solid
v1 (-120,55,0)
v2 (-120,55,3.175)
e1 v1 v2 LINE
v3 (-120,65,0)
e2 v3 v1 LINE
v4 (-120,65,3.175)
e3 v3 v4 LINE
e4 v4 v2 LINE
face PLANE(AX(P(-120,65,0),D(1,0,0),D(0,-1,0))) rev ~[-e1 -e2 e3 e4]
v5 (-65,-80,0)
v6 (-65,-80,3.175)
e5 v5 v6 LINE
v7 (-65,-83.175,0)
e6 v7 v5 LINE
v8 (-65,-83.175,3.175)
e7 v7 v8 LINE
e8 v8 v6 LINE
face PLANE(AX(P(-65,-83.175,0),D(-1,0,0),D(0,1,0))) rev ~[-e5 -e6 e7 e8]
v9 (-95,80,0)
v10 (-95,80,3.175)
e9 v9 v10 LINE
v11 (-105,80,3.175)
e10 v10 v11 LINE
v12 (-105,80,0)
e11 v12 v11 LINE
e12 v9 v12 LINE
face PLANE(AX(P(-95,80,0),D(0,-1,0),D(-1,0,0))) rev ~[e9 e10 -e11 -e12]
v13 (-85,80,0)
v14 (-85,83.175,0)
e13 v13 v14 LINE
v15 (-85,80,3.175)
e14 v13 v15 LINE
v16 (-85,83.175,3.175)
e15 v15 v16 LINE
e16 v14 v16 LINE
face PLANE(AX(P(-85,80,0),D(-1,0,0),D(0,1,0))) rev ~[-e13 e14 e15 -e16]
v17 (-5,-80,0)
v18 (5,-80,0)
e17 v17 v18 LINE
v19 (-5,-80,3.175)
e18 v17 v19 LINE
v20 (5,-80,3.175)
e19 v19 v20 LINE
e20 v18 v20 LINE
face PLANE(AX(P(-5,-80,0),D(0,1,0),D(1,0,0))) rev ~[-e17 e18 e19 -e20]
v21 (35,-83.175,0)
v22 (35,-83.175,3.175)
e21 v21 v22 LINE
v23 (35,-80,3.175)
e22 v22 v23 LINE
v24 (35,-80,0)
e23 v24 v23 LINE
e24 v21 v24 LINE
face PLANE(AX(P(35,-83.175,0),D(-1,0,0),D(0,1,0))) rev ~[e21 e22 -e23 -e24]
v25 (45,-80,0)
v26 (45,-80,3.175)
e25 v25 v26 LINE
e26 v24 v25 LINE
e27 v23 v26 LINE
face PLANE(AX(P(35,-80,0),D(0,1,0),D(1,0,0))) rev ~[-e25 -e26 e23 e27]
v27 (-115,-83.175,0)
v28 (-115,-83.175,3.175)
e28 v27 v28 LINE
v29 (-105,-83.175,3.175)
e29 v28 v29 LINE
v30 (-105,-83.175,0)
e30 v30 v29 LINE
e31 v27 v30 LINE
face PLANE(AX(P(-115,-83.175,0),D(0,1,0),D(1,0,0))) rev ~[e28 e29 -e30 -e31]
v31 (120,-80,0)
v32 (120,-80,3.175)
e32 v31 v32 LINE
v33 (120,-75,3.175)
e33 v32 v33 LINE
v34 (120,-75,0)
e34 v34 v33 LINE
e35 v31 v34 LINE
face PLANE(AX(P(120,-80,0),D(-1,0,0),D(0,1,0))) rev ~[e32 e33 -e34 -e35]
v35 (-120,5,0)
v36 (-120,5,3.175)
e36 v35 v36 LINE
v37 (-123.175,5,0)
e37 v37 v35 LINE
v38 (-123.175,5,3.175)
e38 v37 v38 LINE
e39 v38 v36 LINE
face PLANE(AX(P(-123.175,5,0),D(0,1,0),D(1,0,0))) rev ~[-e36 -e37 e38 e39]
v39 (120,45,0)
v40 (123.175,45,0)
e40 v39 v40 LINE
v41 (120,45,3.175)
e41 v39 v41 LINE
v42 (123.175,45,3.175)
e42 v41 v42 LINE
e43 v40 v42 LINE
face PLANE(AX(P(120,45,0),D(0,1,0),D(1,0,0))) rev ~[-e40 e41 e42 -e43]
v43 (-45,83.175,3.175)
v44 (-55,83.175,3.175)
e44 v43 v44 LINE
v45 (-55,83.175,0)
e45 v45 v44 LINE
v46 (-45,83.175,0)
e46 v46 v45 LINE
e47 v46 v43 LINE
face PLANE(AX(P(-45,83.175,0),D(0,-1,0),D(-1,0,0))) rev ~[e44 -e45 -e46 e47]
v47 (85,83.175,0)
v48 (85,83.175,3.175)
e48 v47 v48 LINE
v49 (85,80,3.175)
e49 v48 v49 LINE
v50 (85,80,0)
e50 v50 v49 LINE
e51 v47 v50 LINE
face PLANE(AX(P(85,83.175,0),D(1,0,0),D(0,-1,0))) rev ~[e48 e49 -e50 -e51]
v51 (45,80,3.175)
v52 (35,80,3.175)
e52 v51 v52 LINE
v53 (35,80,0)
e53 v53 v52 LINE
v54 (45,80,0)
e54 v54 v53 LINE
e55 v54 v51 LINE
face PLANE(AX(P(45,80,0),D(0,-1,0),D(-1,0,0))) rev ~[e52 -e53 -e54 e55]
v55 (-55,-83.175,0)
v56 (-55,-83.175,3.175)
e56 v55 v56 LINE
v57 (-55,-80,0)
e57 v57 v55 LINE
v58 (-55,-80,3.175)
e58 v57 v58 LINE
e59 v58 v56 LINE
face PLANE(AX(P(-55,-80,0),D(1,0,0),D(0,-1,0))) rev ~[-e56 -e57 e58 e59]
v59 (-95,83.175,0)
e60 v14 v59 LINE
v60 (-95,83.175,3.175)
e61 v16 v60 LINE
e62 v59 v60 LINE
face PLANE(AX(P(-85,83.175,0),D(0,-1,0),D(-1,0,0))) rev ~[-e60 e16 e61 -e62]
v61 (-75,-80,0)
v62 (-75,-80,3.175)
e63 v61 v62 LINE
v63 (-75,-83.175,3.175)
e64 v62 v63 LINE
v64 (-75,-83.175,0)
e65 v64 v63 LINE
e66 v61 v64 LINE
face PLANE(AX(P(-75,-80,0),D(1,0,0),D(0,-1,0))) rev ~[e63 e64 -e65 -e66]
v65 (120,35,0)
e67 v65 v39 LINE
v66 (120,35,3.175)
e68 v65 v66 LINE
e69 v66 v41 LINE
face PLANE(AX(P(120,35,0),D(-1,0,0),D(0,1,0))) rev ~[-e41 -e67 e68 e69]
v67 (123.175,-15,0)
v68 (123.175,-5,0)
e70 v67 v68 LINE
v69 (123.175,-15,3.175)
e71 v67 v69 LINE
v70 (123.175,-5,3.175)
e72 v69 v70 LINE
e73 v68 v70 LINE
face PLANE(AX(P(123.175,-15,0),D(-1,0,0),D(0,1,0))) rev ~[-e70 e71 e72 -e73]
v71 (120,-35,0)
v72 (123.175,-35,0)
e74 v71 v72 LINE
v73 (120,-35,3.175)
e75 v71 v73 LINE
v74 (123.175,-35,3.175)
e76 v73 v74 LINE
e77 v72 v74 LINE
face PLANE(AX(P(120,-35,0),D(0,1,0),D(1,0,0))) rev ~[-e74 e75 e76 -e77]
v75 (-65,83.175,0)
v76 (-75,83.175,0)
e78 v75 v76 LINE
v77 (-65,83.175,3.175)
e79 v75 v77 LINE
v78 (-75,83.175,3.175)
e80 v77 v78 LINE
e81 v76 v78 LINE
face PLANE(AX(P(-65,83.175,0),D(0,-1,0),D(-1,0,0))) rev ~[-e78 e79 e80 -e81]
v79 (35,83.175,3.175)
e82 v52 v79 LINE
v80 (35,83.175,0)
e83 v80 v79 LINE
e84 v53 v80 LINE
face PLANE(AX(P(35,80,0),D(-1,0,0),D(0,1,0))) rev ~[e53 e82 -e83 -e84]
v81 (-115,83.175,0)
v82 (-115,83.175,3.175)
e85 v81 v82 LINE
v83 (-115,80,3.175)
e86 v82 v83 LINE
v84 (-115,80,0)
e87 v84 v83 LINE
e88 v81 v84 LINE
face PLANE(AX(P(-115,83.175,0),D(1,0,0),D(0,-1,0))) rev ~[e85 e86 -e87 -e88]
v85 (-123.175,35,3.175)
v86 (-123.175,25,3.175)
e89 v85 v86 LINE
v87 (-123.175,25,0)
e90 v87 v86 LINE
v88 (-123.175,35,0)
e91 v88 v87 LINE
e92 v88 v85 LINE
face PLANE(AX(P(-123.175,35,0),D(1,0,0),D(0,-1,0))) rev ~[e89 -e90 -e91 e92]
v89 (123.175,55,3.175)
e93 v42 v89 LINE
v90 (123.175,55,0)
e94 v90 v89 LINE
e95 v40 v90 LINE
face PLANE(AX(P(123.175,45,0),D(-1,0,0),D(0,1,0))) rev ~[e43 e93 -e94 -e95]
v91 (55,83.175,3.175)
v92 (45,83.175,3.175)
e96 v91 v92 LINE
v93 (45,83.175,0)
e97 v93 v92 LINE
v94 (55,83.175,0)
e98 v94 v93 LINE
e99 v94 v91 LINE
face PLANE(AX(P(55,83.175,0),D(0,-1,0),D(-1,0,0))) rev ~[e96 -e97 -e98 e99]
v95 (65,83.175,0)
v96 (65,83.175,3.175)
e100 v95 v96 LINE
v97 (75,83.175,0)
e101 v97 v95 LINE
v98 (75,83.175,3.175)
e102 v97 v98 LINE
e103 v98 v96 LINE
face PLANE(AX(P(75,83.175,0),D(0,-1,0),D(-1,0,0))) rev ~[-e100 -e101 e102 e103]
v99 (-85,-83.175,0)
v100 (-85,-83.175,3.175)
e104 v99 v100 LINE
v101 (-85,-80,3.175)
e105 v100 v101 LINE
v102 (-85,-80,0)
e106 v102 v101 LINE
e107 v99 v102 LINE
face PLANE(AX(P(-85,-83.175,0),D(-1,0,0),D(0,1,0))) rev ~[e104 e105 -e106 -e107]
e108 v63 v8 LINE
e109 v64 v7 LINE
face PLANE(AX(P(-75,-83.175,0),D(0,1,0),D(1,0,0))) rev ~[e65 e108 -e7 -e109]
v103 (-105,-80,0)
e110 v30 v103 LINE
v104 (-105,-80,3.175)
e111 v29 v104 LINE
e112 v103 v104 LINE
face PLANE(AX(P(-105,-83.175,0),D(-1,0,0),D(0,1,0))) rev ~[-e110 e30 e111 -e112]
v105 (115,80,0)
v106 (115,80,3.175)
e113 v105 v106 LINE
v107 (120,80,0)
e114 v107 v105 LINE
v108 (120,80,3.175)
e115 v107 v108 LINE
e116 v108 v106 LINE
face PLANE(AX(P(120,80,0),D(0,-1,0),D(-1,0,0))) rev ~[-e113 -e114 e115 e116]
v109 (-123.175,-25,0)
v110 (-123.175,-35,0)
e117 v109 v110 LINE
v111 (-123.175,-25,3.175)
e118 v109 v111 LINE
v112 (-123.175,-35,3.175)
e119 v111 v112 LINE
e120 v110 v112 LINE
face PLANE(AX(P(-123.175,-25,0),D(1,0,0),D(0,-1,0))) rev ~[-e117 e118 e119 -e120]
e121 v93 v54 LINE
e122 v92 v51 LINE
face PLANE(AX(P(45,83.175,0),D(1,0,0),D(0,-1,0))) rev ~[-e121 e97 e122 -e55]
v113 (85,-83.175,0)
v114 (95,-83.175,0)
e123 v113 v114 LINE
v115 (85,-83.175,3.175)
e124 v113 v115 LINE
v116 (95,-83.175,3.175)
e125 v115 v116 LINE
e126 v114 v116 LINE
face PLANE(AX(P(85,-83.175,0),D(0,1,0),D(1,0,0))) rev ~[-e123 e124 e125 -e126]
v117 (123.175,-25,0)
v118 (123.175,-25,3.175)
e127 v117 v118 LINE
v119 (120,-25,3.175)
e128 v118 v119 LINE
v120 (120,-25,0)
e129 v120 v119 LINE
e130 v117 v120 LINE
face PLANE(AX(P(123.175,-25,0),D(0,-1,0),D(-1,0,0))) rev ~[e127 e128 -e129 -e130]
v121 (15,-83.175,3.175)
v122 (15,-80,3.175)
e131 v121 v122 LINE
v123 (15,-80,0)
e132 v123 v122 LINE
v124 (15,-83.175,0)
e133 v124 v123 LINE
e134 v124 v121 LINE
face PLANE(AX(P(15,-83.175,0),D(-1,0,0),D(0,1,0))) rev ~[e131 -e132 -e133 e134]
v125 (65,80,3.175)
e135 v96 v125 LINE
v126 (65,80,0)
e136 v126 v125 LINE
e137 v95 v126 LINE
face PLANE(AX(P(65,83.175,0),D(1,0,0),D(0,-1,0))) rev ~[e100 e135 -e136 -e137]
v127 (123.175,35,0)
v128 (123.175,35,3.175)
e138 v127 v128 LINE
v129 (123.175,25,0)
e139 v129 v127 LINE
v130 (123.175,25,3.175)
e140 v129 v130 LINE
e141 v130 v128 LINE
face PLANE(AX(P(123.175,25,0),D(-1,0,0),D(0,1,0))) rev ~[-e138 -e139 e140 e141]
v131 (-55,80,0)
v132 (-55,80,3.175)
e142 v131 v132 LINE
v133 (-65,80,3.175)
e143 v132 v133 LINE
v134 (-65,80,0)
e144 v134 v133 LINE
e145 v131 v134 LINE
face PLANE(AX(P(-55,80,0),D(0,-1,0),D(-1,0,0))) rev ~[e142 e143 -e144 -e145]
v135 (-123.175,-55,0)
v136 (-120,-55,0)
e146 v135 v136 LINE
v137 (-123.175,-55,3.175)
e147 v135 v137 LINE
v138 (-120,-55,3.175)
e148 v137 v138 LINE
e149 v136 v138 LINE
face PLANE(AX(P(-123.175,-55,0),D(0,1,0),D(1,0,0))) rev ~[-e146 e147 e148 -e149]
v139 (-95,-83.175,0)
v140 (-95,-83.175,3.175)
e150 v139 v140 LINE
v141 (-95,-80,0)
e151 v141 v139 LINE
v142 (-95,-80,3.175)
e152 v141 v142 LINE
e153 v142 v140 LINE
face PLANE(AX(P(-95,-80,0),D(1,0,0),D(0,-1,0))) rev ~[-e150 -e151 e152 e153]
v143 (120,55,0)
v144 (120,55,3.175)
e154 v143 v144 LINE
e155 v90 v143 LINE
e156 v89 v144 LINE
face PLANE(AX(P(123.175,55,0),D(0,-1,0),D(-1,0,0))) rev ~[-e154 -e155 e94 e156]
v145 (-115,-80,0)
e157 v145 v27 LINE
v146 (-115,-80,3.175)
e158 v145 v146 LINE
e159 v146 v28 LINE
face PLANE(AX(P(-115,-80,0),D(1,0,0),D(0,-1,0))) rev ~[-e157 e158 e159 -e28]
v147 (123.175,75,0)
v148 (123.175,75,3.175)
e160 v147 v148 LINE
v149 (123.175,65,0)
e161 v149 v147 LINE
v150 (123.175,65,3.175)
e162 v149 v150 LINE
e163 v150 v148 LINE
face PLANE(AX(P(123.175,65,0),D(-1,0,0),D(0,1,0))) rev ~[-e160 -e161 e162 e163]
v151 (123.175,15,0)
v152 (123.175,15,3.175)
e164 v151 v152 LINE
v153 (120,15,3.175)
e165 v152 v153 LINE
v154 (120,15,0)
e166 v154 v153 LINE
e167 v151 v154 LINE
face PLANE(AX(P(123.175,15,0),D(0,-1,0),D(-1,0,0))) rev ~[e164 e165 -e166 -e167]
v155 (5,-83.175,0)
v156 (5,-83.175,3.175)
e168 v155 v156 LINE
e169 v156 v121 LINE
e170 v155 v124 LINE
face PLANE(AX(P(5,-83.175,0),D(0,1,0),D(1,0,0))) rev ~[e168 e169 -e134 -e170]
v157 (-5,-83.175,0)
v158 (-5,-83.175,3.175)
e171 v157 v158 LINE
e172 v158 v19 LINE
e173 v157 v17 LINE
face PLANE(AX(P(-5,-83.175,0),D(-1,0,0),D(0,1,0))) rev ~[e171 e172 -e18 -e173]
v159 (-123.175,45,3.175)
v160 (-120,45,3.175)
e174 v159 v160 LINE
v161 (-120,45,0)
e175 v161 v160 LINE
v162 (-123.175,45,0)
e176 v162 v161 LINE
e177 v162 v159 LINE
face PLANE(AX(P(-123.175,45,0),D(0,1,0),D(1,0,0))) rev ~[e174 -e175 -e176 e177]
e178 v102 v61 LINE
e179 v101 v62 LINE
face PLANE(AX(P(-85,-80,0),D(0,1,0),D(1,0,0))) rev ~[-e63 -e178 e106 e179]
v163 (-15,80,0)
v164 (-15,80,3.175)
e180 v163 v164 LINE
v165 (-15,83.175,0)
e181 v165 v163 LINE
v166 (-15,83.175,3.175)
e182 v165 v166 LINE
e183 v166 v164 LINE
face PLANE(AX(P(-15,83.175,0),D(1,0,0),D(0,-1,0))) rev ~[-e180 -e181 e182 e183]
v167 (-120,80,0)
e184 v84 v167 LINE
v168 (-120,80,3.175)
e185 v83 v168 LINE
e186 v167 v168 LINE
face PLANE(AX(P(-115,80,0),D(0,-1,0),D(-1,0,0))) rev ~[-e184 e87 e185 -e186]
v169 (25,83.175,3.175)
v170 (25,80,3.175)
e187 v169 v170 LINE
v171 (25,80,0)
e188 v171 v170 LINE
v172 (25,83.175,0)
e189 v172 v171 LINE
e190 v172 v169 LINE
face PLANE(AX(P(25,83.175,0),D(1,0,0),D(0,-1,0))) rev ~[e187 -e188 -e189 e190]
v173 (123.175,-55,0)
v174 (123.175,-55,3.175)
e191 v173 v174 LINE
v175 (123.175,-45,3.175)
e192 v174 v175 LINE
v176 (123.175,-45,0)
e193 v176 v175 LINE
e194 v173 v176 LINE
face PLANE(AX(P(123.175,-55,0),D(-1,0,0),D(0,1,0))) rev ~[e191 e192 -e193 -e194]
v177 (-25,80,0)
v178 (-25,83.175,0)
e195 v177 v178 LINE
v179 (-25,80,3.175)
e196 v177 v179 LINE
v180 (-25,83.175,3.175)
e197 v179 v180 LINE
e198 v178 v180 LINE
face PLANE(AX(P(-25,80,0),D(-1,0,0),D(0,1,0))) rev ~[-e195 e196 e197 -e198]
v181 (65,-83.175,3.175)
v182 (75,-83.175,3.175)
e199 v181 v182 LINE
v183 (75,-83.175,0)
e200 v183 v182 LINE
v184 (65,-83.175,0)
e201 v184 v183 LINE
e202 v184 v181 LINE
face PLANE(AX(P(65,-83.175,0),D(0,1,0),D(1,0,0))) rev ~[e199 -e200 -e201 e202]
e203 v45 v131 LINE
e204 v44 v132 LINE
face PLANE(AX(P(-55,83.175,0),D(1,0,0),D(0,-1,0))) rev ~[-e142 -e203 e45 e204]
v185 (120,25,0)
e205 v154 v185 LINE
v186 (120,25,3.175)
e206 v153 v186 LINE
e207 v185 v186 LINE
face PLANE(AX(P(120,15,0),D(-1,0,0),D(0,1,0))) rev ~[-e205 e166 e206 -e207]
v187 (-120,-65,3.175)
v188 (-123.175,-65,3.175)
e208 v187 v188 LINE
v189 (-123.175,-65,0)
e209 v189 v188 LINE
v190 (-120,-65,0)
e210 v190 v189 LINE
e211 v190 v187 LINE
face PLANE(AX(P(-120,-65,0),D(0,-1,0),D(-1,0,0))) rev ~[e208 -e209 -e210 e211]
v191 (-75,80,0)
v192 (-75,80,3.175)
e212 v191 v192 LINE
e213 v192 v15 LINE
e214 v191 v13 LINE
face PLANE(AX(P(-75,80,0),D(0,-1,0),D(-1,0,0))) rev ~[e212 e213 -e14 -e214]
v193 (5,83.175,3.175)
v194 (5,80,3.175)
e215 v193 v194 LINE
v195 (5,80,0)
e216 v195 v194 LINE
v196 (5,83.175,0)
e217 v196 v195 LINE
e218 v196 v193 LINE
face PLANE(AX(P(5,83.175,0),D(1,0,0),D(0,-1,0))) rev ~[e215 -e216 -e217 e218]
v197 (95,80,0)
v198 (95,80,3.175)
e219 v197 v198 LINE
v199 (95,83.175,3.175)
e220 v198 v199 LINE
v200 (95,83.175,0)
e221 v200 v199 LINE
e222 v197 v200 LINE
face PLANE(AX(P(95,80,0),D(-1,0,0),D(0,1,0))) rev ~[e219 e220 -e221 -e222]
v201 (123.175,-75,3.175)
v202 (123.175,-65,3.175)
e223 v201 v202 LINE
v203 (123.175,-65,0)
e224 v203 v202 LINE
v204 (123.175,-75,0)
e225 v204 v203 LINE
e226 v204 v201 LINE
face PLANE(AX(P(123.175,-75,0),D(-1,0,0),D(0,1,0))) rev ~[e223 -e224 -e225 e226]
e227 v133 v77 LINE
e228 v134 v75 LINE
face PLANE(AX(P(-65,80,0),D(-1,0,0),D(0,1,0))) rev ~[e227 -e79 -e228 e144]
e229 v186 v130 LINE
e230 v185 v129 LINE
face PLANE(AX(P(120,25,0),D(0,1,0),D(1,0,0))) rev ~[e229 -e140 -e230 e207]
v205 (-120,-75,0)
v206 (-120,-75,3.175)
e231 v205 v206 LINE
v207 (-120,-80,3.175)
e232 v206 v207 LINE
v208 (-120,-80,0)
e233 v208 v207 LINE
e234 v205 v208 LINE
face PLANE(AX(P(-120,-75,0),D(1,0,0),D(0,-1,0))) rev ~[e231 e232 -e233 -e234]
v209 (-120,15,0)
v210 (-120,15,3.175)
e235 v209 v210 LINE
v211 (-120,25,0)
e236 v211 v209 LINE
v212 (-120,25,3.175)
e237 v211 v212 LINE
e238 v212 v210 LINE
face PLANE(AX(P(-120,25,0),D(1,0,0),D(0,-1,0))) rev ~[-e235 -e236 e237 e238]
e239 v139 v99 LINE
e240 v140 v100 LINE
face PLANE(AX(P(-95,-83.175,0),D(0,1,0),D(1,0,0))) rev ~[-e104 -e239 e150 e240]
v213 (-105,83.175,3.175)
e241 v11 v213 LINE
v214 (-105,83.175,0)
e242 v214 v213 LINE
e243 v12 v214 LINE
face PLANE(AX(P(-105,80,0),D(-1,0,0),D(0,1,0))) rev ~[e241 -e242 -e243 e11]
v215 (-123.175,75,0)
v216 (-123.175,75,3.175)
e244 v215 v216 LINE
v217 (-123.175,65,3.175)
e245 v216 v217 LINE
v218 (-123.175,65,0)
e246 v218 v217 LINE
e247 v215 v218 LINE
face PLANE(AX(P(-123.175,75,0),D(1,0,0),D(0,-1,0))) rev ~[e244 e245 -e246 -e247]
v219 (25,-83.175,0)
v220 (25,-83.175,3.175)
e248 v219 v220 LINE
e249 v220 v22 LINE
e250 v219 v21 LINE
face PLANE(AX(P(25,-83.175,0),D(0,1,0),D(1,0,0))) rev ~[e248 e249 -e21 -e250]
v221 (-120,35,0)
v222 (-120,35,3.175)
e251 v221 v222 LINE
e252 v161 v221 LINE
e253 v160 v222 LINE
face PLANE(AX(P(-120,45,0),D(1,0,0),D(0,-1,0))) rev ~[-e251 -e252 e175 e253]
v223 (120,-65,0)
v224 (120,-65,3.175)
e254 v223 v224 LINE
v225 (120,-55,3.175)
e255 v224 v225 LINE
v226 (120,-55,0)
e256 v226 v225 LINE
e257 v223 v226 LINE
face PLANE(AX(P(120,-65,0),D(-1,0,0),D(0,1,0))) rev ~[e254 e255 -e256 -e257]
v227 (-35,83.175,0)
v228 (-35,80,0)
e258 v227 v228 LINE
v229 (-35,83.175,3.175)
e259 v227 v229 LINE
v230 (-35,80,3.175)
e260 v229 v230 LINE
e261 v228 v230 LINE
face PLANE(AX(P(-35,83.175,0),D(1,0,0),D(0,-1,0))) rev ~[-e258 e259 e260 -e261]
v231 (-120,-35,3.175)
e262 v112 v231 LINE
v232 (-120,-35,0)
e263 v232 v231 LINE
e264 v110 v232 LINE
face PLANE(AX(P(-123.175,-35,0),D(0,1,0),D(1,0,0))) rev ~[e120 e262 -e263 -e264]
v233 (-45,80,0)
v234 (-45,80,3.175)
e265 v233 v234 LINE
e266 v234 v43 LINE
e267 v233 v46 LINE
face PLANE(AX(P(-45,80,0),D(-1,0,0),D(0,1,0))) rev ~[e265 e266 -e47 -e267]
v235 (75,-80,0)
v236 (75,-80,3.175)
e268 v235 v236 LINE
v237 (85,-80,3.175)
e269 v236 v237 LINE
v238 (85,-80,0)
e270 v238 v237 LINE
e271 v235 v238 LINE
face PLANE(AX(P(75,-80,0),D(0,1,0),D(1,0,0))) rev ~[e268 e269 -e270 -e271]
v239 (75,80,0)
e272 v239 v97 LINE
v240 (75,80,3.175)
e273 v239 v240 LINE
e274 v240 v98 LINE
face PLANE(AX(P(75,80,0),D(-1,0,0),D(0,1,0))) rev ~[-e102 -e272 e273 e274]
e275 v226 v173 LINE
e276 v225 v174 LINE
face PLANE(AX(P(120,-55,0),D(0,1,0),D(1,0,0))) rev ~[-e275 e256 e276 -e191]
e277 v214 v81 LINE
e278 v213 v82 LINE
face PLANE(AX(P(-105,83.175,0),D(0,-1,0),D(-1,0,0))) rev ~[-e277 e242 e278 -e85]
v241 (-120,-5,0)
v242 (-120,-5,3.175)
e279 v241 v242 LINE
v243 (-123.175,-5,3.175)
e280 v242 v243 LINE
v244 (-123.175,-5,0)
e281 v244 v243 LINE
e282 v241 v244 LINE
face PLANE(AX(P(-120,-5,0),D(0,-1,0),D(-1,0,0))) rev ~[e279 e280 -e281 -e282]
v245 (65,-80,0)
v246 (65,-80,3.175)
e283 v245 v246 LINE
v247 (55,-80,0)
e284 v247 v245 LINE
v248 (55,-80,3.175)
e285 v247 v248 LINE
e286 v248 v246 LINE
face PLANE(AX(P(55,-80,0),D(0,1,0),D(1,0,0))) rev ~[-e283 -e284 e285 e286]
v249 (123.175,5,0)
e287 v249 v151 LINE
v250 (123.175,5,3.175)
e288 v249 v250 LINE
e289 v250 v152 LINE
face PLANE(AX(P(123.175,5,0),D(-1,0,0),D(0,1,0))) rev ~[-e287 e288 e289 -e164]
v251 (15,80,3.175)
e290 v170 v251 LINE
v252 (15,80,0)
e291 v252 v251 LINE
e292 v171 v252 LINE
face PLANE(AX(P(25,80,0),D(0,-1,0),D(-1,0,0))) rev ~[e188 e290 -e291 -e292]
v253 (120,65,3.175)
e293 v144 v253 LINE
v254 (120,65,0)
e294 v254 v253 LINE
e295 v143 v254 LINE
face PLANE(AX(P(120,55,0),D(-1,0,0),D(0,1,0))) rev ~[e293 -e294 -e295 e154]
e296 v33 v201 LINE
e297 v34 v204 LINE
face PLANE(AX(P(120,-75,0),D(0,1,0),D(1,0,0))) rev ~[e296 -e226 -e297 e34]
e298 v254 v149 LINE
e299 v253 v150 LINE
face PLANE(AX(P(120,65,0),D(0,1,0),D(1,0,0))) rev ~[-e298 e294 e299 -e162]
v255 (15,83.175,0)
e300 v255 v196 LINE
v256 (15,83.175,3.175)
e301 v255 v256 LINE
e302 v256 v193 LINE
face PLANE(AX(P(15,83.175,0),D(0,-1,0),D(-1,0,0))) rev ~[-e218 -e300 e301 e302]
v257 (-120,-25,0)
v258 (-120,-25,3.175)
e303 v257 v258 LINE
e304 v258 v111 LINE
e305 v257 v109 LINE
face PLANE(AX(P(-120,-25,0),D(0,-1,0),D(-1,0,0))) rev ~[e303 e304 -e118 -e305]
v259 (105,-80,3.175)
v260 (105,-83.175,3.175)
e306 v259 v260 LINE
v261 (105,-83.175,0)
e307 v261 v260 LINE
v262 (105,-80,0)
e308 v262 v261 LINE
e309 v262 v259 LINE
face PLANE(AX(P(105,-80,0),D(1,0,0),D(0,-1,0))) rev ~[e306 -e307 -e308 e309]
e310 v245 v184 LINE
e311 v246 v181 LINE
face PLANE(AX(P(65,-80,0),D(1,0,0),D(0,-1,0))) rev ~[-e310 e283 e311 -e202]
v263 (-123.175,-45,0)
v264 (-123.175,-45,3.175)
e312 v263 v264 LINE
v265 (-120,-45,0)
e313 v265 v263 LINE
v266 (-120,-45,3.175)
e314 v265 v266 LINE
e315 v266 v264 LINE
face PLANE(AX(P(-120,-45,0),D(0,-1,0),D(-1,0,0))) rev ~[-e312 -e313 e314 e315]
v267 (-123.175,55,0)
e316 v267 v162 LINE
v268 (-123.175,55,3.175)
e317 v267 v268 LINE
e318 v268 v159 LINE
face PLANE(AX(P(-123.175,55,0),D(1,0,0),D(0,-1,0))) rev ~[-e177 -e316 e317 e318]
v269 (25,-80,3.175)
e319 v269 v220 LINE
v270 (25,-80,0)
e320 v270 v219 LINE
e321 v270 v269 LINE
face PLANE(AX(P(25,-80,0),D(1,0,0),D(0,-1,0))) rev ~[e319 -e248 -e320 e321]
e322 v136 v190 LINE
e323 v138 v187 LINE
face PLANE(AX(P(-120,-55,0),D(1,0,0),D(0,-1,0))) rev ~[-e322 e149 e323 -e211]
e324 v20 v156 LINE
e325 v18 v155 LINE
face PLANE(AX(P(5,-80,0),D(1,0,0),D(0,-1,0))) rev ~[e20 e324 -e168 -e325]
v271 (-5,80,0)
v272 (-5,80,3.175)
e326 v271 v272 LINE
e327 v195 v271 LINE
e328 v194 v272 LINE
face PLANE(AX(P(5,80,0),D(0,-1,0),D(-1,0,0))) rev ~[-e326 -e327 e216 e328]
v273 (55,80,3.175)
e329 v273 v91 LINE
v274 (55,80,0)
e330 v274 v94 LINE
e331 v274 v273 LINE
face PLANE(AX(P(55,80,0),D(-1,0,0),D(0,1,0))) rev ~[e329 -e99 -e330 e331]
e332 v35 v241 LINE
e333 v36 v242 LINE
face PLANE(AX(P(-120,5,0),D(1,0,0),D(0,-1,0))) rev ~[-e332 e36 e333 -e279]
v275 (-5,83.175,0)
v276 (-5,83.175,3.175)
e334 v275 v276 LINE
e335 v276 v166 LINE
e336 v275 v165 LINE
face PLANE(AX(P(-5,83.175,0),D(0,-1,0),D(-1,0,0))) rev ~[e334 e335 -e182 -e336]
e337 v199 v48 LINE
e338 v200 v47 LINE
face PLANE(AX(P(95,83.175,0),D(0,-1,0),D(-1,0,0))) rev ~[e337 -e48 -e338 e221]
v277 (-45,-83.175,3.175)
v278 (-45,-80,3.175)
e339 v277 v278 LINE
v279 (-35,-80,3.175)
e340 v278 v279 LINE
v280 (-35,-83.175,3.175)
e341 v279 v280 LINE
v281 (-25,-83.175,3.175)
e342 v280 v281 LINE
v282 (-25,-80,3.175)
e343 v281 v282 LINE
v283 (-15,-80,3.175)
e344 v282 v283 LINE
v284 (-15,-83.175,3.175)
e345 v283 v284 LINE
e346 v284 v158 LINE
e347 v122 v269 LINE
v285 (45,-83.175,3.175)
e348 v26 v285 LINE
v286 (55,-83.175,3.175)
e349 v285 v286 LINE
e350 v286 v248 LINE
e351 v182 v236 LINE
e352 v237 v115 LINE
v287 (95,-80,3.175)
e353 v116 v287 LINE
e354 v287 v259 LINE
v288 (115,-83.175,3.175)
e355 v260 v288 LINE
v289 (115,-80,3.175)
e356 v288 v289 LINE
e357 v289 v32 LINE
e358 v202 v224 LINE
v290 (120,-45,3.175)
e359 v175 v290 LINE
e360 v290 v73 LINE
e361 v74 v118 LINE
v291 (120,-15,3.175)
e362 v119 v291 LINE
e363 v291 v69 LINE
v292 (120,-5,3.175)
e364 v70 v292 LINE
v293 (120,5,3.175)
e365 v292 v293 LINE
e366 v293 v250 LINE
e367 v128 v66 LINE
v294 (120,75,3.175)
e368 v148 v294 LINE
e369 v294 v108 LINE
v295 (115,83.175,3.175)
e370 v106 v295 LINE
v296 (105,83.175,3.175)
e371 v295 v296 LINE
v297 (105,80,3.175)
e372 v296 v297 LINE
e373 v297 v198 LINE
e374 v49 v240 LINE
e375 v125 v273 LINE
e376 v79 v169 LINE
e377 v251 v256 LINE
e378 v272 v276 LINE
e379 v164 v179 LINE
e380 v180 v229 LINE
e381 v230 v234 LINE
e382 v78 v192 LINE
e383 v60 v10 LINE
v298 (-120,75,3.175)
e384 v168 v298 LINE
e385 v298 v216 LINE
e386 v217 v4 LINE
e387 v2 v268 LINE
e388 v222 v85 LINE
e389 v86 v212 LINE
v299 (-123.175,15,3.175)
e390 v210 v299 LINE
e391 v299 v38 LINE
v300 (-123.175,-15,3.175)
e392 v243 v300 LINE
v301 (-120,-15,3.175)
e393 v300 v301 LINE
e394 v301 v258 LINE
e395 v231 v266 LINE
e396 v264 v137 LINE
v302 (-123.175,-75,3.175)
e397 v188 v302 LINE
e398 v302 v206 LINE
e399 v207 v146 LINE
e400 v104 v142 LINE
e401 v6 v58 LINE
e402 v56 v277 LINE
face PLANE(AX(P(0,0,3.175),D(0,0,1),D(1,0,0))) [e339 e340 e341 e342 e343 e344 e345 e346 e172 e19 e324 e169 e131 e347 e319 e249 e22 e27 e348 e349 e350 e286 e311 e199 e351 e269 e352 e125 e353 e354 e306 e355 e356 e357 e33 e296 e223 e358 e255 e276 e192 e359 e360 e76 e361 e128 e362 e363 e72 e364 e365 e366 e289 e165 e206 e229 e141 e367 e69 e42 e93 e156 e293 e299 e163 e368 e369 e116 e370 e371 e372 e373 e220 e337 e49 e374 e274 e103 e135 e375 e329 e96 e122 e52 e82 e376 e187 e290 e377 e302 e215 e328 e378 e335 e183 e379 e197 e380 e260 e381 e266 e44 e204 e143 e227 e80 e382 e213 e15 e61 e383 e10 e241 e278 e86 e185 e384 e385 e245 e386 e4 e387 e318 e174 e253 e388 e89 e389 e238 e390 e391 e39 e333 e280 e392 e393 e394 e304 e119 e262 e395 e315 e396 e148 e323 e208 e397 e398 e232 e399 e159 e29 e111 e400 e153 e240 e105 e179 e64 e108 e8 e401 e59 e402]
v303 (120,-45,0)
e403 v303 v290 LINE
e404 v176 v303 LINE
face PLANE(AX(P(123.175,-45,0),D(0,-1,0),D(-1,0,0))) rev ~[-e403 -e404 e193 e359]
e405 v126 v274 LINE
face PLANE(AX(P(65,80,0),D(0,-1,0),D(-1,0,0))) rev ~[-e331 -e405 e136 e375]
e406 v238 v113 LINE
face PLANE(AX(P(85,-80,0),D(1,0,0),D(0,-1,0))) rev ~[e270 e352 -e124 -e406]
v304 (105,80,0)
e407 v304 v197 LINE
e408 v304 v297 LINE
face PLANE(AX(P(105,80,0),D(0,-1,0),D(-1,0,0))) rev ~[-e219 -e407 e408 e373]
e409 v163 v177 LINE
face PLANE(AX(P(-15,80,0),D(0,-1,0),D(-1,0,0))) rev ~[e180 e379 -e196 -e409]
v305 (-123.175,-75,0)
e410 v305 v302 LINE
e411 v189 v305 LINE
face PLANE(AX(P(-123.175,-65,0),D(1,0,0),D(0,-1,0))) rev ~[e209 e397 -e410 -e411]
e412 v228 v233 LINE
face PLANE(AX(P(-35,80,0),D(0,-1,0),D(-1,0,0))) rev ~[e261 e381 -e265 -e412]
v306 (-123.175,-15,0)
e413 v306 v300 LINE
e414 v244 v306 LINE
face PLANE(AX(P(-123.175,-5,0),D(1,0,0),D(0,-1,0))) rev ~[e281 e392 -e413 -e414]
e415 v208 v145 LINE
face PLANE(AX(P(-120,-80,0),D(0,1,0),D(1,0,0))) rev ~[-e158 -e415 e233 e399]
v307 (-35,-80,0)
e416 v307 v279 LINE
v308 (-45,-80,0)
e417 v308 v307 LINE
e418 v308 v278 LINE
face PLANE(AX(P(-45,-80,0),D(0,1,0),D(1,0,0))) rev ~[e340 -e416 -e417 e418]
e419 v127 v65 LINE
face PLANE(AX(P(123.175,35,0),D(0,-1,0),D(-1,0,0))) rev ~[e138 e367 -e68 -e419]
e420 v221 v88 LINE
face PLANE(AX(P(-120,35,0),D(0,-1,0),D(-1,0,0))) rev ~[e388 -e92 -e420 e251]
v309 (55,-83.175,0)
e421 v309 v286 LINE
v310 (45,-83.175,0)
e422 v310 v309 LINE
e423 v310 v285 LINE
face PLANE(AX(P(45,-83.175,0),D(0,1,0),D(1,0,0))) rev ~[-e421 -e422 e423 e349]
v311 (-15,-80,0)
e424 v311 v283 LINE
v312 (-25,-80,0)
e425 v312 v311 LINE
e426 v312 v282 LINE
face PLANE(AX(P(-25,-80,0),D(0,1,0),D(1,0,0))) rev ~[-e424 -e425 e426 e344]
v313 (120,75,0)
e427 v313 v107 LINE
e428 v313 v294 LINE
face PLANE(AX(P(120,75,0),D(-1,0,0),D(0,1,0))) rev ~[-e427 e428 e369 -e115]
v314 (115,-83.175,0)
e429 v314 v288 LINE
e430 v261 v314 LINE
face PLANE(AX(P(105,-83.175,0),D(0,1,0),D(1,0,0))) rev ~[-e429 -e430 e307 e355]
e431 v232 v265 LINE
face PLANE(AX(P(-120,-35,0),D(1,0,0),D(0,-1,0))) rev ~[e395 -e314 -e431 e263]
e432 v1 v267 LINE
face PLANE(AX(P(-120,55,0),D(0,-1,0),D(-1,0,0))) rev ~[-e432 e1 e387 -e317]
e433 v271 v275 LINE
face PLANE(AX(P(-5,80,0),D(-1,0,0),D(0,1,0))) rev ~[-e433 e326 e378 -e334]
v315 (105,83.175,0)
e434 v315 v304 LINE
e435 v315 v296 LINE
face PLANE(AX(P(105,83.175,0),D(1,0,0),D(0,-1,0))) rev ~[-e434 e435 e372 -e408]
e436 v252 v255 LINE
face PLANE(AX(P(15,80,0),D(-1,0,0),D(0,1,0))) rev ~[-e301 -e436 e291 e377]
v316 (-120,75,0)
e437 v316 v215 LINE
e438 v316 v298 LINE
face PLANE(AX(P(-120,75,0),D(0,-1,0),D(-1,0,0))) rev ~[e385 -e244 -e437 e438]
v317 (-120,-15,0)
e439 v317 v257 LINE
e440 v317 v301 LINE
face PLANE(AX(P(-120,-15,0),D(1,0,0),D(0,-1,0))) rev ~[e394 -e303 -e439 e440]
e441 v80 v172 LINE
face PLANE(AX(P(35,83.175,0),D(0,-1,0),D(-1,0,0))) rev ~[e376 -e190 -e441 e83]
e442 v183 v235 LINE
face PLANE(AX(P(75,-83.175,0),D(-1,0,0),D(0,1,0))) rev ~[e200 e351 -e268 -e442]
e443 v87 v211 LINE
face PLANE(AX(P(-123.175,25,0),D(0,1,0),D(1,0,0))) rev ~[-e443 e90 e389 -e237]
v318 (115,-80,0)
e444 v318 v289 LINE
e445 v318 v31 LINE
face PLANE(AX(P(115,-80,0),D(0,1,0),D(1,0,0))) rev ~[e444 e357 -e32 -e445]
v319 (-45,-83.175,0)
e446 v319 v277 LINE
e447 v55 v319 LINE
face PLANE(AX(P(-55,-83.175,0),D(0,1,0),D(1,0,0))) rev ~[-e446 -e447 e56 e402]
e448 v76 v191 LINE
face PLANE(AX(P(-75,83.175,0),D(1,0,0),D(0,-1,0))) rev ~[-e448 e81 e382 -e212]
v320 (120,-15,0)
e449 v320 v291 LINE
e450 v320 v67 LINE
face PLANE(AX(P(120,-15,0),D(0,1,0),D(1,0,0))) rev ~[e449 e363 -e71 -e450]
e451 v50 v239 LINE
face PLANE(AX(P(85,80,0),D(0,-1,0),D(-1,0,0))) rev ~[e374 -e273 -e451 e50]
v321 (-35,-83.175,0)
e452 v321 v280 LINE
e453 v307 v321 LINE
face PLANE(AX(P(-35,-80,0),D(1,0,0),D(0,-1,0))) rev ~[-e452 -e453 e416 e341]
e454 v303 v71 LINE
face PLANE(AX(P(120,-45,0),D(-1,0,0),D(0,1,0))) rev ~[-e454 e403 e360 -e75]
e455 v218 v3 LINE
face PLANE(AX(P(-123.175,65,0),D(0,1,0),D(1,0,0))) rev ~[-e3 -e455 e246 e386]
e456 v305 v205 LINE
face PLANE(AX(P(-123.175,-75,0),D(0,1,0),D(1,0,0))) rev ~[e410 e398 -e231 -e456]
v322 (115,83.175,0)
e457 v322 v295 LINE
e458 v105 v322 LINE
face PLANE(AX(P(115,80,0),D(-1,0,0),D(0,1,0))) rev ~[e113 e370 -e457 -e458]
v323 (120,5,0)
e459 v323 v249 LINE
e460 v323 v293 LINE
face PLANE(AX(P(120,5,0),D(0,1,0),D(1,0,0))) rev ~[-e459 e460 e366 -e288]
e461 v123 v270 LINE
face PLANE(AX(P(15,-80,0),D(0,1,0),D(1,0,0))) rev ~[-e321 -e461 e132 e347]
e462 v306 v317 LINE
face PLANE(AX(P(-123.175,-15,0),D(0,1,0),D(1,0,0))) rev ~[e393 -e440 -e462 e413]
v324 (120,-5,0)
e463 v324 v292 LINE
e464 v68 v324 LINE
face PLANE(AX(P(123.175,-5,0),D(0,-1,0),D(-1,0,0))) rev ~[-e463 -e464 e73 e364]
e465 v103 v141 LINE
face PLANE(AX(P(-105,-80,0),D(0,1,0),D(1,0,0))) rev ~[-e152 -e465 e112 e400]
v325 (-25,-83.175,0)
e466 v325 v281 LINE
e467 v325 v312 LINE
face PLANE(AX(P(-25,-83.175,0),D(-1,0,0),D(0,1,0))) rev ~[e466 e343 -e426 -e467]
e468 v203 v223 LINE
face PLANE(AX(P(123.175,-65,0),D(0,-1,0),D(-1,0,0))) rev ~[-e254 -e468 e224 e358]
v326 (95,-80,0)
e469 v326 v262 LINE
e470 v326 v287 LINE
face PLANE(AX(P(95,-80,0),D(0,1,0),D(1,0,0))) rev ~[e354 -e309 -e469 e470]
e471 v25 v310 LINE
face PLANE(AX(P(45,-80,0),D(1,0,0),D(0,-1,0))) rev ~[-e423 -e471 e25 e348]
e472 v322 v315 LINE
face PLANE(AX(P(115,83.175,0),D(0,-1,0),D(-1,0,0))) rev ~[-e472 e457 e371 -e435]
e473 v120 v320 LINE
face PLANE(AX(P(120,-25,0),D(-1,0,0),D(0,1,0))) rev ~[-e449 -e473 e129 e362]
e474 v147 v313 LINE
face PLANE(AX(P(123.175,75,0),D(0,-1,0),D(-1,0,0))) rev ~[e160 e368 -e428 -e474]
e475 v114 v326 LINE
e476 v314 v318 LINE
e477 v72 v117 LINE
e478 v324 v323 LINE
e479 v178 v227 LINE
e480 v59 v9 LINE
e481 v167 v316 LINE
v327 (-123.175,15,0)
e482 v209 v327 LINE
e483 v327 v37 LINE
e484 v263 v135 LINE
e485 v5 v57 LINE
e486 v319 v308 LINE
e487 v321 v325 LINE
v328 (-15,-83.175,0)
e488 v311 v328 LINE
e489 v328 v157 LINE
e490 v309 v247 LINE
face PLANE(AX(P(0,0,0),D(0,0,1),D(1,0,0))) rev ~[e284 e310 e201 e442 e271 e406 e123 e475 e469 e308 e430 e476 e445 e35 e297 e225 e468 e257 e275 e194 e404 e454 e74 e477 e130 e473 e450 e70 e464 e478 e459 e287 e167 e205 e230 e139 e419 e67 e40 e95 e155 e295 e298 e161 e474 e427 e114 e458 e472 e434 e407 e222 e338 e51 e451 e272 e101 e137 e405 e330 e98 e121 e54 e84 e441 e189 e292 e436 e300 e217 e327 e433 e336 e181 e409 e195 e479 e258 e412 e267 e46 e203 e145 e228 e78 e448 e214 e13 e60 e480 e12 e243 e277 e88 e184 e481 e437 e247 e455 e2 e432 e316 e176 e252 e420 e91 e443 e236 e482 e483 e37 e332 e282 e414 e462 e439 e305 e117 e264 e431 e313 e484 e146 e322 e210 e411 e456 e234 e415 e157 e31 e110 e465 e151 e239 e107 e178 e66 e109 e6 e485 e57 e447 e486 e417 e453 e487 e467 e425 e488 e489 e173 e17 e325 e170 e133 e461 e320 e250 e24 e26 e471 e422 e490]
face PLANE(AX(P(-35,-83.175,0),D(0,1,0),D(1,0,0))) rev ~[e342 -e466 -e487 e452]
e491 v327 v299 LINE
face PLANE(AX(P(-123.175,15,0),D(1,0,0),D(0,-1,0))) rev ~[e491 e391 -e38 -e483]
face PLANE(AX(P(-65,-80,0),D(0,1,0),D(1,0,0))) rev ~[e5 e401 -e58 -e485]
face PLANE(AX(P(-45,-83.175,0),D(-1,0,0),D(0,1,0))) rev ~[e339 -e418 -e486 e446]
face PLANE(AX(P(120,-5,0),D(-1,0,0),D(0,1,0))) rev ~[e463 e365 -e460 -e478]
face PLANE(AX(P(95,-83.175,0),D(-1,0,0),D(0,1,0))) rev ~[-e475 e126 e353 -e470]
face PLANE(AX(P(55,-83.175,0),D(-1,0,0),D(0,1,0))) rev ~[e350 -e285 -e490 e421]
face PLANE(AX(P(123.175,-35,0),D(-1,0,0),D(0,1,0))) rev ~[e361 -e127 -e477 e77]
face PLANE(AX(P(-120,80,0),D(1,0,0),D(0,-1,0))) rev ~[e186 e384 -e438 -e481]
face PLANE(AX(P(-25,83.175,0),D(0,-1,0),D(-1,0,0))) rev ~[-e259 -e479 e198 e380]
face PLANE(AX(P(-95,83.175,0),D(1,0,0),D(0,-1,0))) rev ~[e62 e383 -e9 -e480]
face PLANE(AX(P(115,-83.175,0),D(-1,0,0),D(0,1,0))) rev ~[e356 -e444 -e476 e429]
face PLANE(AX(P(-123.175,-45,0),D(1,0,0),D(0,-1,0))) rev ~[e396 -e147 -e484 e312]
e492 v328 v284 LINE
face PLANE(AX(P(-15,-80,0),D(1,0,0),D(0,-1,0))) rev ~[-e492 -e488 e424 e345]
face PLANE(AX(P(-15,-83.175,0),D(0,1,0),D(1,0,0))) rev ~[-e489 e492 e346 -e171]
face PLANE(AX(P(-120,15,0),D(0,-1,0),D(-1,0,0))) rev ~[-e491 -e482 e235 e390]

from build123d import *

# Parameters (mm, degrees)
F1_DEPTH = 3.175


with BuildPart() as f1:
    # F0 (on Top) → F1 (new body)
    with BuildSketch(Plane.XY):
        Polygon((120, 75), (120, 80), (115, 80), (115, 83.175), (105, 83.175), (105, 80), (95, 80), (95, 83.175), (85, 83.175), (85, 80), (75, 80), (75, 83.175), (65, 83.175), (65, 80), (55, 80), (55, 83.175), (45, 83.175), (45, 80), (35, 80), (35, 83.175), (25, 83.175), (25, 80), (15, 80), (15, 83.175), (5, 83.175), (5, 80), (0, 80), (-5, 80), (-5, 83.175), (-15, 83.175), (-15, 80), (-25, 80), (-25, 83.175), (-35, 83.175), (-35, 80), (-45, 80), (-45, 83.175), (-55, 83.175), (-55, 80), (-65, 80), (-65, 83.175), (-75, 83.175), (-75, 80), (-85, 80), (-85, 83.175), (-95, 83.175), (-95, 80), (-105, 80), (-105, 83.175), (-115, 83.175), (-115, 80), (-120, 80), (-120, 75), (-123.175, 75), (-123.175, 65), (-120, 65), (-120, 55), (-123.175, 55), (-123.175, 45), (-120, 45), (-120, 35), (-123.175, 35), (-123.175, 25), (-120, 25), (-120, 15), (-123.175, 15), (-123.175, 5), (-120, 5), (-120, 0), (-120, -5), (-123.175, -5), (-123.175, -15), (-120, -15), (-120, -25), (-123.175, -25), (-123.175, -35), (-120, -35), (-120, -45), (-123.175, -45), (-123.175, -55), (-120, -55), (-120, -65), (-123.175, -65), (-123.175, -75), (-120, -75), (-120, -80), (-115, -80), (-115, -83.175), (-105, -83.175), (-105, -80), (-95, -80), (-95, -83.175), (-85, -83.175), (-85, -80), (-75, -80), (-75, -83.175), (-65, -83.175), (-65, -80), (-55, -80), (-55, -83.175), (-45, -83.175), (-45, -80), (-35, -80), (-35, -83.175), (-25, -83.175), (-25, -80), (-15, -80), (-15, -83.175), (-5, -83.175), (-5, -80), (0, -80), (5, -80), (5, -83.175), (15, -83.175), (15, -80), (25, -80), (25, -83.175), (35, -83.175), (35, -80), (45, -80), (45, -83.175), (55, -83.175), (55, -80), (65, -80), (65, -83.175), (75, -83.175), (75, -80), (85, -80), (85, -83.175), (95, -83.175), (95, -80), (105, -80), (105, -83.175), (115, -83.175), (115, -80), (120, -80), (120, -75), (123.175, -75), (123.175, -65), (120, -65), (120, -55), (123.175, -55), (123.175, -45), (120, -45), (120, -35), (123.175, -35), (123.175, -25), (120, -25), (120, -15), (123.175, -15), (123.175, -5), (120, -5), (120, 0), (120, 5), (123.175, 5), (123.175, 15), (120, 15), (120, 25), (123.175, 25), (123.175, 35), (120, 35), (120, 45), (123.175, 45), (123.175, 55), (120, 55), (120, 65), (123.175, 65), (123.175, 75), align=None)
    extrude(amount=F1_DEPTH)


solid = f1.part
